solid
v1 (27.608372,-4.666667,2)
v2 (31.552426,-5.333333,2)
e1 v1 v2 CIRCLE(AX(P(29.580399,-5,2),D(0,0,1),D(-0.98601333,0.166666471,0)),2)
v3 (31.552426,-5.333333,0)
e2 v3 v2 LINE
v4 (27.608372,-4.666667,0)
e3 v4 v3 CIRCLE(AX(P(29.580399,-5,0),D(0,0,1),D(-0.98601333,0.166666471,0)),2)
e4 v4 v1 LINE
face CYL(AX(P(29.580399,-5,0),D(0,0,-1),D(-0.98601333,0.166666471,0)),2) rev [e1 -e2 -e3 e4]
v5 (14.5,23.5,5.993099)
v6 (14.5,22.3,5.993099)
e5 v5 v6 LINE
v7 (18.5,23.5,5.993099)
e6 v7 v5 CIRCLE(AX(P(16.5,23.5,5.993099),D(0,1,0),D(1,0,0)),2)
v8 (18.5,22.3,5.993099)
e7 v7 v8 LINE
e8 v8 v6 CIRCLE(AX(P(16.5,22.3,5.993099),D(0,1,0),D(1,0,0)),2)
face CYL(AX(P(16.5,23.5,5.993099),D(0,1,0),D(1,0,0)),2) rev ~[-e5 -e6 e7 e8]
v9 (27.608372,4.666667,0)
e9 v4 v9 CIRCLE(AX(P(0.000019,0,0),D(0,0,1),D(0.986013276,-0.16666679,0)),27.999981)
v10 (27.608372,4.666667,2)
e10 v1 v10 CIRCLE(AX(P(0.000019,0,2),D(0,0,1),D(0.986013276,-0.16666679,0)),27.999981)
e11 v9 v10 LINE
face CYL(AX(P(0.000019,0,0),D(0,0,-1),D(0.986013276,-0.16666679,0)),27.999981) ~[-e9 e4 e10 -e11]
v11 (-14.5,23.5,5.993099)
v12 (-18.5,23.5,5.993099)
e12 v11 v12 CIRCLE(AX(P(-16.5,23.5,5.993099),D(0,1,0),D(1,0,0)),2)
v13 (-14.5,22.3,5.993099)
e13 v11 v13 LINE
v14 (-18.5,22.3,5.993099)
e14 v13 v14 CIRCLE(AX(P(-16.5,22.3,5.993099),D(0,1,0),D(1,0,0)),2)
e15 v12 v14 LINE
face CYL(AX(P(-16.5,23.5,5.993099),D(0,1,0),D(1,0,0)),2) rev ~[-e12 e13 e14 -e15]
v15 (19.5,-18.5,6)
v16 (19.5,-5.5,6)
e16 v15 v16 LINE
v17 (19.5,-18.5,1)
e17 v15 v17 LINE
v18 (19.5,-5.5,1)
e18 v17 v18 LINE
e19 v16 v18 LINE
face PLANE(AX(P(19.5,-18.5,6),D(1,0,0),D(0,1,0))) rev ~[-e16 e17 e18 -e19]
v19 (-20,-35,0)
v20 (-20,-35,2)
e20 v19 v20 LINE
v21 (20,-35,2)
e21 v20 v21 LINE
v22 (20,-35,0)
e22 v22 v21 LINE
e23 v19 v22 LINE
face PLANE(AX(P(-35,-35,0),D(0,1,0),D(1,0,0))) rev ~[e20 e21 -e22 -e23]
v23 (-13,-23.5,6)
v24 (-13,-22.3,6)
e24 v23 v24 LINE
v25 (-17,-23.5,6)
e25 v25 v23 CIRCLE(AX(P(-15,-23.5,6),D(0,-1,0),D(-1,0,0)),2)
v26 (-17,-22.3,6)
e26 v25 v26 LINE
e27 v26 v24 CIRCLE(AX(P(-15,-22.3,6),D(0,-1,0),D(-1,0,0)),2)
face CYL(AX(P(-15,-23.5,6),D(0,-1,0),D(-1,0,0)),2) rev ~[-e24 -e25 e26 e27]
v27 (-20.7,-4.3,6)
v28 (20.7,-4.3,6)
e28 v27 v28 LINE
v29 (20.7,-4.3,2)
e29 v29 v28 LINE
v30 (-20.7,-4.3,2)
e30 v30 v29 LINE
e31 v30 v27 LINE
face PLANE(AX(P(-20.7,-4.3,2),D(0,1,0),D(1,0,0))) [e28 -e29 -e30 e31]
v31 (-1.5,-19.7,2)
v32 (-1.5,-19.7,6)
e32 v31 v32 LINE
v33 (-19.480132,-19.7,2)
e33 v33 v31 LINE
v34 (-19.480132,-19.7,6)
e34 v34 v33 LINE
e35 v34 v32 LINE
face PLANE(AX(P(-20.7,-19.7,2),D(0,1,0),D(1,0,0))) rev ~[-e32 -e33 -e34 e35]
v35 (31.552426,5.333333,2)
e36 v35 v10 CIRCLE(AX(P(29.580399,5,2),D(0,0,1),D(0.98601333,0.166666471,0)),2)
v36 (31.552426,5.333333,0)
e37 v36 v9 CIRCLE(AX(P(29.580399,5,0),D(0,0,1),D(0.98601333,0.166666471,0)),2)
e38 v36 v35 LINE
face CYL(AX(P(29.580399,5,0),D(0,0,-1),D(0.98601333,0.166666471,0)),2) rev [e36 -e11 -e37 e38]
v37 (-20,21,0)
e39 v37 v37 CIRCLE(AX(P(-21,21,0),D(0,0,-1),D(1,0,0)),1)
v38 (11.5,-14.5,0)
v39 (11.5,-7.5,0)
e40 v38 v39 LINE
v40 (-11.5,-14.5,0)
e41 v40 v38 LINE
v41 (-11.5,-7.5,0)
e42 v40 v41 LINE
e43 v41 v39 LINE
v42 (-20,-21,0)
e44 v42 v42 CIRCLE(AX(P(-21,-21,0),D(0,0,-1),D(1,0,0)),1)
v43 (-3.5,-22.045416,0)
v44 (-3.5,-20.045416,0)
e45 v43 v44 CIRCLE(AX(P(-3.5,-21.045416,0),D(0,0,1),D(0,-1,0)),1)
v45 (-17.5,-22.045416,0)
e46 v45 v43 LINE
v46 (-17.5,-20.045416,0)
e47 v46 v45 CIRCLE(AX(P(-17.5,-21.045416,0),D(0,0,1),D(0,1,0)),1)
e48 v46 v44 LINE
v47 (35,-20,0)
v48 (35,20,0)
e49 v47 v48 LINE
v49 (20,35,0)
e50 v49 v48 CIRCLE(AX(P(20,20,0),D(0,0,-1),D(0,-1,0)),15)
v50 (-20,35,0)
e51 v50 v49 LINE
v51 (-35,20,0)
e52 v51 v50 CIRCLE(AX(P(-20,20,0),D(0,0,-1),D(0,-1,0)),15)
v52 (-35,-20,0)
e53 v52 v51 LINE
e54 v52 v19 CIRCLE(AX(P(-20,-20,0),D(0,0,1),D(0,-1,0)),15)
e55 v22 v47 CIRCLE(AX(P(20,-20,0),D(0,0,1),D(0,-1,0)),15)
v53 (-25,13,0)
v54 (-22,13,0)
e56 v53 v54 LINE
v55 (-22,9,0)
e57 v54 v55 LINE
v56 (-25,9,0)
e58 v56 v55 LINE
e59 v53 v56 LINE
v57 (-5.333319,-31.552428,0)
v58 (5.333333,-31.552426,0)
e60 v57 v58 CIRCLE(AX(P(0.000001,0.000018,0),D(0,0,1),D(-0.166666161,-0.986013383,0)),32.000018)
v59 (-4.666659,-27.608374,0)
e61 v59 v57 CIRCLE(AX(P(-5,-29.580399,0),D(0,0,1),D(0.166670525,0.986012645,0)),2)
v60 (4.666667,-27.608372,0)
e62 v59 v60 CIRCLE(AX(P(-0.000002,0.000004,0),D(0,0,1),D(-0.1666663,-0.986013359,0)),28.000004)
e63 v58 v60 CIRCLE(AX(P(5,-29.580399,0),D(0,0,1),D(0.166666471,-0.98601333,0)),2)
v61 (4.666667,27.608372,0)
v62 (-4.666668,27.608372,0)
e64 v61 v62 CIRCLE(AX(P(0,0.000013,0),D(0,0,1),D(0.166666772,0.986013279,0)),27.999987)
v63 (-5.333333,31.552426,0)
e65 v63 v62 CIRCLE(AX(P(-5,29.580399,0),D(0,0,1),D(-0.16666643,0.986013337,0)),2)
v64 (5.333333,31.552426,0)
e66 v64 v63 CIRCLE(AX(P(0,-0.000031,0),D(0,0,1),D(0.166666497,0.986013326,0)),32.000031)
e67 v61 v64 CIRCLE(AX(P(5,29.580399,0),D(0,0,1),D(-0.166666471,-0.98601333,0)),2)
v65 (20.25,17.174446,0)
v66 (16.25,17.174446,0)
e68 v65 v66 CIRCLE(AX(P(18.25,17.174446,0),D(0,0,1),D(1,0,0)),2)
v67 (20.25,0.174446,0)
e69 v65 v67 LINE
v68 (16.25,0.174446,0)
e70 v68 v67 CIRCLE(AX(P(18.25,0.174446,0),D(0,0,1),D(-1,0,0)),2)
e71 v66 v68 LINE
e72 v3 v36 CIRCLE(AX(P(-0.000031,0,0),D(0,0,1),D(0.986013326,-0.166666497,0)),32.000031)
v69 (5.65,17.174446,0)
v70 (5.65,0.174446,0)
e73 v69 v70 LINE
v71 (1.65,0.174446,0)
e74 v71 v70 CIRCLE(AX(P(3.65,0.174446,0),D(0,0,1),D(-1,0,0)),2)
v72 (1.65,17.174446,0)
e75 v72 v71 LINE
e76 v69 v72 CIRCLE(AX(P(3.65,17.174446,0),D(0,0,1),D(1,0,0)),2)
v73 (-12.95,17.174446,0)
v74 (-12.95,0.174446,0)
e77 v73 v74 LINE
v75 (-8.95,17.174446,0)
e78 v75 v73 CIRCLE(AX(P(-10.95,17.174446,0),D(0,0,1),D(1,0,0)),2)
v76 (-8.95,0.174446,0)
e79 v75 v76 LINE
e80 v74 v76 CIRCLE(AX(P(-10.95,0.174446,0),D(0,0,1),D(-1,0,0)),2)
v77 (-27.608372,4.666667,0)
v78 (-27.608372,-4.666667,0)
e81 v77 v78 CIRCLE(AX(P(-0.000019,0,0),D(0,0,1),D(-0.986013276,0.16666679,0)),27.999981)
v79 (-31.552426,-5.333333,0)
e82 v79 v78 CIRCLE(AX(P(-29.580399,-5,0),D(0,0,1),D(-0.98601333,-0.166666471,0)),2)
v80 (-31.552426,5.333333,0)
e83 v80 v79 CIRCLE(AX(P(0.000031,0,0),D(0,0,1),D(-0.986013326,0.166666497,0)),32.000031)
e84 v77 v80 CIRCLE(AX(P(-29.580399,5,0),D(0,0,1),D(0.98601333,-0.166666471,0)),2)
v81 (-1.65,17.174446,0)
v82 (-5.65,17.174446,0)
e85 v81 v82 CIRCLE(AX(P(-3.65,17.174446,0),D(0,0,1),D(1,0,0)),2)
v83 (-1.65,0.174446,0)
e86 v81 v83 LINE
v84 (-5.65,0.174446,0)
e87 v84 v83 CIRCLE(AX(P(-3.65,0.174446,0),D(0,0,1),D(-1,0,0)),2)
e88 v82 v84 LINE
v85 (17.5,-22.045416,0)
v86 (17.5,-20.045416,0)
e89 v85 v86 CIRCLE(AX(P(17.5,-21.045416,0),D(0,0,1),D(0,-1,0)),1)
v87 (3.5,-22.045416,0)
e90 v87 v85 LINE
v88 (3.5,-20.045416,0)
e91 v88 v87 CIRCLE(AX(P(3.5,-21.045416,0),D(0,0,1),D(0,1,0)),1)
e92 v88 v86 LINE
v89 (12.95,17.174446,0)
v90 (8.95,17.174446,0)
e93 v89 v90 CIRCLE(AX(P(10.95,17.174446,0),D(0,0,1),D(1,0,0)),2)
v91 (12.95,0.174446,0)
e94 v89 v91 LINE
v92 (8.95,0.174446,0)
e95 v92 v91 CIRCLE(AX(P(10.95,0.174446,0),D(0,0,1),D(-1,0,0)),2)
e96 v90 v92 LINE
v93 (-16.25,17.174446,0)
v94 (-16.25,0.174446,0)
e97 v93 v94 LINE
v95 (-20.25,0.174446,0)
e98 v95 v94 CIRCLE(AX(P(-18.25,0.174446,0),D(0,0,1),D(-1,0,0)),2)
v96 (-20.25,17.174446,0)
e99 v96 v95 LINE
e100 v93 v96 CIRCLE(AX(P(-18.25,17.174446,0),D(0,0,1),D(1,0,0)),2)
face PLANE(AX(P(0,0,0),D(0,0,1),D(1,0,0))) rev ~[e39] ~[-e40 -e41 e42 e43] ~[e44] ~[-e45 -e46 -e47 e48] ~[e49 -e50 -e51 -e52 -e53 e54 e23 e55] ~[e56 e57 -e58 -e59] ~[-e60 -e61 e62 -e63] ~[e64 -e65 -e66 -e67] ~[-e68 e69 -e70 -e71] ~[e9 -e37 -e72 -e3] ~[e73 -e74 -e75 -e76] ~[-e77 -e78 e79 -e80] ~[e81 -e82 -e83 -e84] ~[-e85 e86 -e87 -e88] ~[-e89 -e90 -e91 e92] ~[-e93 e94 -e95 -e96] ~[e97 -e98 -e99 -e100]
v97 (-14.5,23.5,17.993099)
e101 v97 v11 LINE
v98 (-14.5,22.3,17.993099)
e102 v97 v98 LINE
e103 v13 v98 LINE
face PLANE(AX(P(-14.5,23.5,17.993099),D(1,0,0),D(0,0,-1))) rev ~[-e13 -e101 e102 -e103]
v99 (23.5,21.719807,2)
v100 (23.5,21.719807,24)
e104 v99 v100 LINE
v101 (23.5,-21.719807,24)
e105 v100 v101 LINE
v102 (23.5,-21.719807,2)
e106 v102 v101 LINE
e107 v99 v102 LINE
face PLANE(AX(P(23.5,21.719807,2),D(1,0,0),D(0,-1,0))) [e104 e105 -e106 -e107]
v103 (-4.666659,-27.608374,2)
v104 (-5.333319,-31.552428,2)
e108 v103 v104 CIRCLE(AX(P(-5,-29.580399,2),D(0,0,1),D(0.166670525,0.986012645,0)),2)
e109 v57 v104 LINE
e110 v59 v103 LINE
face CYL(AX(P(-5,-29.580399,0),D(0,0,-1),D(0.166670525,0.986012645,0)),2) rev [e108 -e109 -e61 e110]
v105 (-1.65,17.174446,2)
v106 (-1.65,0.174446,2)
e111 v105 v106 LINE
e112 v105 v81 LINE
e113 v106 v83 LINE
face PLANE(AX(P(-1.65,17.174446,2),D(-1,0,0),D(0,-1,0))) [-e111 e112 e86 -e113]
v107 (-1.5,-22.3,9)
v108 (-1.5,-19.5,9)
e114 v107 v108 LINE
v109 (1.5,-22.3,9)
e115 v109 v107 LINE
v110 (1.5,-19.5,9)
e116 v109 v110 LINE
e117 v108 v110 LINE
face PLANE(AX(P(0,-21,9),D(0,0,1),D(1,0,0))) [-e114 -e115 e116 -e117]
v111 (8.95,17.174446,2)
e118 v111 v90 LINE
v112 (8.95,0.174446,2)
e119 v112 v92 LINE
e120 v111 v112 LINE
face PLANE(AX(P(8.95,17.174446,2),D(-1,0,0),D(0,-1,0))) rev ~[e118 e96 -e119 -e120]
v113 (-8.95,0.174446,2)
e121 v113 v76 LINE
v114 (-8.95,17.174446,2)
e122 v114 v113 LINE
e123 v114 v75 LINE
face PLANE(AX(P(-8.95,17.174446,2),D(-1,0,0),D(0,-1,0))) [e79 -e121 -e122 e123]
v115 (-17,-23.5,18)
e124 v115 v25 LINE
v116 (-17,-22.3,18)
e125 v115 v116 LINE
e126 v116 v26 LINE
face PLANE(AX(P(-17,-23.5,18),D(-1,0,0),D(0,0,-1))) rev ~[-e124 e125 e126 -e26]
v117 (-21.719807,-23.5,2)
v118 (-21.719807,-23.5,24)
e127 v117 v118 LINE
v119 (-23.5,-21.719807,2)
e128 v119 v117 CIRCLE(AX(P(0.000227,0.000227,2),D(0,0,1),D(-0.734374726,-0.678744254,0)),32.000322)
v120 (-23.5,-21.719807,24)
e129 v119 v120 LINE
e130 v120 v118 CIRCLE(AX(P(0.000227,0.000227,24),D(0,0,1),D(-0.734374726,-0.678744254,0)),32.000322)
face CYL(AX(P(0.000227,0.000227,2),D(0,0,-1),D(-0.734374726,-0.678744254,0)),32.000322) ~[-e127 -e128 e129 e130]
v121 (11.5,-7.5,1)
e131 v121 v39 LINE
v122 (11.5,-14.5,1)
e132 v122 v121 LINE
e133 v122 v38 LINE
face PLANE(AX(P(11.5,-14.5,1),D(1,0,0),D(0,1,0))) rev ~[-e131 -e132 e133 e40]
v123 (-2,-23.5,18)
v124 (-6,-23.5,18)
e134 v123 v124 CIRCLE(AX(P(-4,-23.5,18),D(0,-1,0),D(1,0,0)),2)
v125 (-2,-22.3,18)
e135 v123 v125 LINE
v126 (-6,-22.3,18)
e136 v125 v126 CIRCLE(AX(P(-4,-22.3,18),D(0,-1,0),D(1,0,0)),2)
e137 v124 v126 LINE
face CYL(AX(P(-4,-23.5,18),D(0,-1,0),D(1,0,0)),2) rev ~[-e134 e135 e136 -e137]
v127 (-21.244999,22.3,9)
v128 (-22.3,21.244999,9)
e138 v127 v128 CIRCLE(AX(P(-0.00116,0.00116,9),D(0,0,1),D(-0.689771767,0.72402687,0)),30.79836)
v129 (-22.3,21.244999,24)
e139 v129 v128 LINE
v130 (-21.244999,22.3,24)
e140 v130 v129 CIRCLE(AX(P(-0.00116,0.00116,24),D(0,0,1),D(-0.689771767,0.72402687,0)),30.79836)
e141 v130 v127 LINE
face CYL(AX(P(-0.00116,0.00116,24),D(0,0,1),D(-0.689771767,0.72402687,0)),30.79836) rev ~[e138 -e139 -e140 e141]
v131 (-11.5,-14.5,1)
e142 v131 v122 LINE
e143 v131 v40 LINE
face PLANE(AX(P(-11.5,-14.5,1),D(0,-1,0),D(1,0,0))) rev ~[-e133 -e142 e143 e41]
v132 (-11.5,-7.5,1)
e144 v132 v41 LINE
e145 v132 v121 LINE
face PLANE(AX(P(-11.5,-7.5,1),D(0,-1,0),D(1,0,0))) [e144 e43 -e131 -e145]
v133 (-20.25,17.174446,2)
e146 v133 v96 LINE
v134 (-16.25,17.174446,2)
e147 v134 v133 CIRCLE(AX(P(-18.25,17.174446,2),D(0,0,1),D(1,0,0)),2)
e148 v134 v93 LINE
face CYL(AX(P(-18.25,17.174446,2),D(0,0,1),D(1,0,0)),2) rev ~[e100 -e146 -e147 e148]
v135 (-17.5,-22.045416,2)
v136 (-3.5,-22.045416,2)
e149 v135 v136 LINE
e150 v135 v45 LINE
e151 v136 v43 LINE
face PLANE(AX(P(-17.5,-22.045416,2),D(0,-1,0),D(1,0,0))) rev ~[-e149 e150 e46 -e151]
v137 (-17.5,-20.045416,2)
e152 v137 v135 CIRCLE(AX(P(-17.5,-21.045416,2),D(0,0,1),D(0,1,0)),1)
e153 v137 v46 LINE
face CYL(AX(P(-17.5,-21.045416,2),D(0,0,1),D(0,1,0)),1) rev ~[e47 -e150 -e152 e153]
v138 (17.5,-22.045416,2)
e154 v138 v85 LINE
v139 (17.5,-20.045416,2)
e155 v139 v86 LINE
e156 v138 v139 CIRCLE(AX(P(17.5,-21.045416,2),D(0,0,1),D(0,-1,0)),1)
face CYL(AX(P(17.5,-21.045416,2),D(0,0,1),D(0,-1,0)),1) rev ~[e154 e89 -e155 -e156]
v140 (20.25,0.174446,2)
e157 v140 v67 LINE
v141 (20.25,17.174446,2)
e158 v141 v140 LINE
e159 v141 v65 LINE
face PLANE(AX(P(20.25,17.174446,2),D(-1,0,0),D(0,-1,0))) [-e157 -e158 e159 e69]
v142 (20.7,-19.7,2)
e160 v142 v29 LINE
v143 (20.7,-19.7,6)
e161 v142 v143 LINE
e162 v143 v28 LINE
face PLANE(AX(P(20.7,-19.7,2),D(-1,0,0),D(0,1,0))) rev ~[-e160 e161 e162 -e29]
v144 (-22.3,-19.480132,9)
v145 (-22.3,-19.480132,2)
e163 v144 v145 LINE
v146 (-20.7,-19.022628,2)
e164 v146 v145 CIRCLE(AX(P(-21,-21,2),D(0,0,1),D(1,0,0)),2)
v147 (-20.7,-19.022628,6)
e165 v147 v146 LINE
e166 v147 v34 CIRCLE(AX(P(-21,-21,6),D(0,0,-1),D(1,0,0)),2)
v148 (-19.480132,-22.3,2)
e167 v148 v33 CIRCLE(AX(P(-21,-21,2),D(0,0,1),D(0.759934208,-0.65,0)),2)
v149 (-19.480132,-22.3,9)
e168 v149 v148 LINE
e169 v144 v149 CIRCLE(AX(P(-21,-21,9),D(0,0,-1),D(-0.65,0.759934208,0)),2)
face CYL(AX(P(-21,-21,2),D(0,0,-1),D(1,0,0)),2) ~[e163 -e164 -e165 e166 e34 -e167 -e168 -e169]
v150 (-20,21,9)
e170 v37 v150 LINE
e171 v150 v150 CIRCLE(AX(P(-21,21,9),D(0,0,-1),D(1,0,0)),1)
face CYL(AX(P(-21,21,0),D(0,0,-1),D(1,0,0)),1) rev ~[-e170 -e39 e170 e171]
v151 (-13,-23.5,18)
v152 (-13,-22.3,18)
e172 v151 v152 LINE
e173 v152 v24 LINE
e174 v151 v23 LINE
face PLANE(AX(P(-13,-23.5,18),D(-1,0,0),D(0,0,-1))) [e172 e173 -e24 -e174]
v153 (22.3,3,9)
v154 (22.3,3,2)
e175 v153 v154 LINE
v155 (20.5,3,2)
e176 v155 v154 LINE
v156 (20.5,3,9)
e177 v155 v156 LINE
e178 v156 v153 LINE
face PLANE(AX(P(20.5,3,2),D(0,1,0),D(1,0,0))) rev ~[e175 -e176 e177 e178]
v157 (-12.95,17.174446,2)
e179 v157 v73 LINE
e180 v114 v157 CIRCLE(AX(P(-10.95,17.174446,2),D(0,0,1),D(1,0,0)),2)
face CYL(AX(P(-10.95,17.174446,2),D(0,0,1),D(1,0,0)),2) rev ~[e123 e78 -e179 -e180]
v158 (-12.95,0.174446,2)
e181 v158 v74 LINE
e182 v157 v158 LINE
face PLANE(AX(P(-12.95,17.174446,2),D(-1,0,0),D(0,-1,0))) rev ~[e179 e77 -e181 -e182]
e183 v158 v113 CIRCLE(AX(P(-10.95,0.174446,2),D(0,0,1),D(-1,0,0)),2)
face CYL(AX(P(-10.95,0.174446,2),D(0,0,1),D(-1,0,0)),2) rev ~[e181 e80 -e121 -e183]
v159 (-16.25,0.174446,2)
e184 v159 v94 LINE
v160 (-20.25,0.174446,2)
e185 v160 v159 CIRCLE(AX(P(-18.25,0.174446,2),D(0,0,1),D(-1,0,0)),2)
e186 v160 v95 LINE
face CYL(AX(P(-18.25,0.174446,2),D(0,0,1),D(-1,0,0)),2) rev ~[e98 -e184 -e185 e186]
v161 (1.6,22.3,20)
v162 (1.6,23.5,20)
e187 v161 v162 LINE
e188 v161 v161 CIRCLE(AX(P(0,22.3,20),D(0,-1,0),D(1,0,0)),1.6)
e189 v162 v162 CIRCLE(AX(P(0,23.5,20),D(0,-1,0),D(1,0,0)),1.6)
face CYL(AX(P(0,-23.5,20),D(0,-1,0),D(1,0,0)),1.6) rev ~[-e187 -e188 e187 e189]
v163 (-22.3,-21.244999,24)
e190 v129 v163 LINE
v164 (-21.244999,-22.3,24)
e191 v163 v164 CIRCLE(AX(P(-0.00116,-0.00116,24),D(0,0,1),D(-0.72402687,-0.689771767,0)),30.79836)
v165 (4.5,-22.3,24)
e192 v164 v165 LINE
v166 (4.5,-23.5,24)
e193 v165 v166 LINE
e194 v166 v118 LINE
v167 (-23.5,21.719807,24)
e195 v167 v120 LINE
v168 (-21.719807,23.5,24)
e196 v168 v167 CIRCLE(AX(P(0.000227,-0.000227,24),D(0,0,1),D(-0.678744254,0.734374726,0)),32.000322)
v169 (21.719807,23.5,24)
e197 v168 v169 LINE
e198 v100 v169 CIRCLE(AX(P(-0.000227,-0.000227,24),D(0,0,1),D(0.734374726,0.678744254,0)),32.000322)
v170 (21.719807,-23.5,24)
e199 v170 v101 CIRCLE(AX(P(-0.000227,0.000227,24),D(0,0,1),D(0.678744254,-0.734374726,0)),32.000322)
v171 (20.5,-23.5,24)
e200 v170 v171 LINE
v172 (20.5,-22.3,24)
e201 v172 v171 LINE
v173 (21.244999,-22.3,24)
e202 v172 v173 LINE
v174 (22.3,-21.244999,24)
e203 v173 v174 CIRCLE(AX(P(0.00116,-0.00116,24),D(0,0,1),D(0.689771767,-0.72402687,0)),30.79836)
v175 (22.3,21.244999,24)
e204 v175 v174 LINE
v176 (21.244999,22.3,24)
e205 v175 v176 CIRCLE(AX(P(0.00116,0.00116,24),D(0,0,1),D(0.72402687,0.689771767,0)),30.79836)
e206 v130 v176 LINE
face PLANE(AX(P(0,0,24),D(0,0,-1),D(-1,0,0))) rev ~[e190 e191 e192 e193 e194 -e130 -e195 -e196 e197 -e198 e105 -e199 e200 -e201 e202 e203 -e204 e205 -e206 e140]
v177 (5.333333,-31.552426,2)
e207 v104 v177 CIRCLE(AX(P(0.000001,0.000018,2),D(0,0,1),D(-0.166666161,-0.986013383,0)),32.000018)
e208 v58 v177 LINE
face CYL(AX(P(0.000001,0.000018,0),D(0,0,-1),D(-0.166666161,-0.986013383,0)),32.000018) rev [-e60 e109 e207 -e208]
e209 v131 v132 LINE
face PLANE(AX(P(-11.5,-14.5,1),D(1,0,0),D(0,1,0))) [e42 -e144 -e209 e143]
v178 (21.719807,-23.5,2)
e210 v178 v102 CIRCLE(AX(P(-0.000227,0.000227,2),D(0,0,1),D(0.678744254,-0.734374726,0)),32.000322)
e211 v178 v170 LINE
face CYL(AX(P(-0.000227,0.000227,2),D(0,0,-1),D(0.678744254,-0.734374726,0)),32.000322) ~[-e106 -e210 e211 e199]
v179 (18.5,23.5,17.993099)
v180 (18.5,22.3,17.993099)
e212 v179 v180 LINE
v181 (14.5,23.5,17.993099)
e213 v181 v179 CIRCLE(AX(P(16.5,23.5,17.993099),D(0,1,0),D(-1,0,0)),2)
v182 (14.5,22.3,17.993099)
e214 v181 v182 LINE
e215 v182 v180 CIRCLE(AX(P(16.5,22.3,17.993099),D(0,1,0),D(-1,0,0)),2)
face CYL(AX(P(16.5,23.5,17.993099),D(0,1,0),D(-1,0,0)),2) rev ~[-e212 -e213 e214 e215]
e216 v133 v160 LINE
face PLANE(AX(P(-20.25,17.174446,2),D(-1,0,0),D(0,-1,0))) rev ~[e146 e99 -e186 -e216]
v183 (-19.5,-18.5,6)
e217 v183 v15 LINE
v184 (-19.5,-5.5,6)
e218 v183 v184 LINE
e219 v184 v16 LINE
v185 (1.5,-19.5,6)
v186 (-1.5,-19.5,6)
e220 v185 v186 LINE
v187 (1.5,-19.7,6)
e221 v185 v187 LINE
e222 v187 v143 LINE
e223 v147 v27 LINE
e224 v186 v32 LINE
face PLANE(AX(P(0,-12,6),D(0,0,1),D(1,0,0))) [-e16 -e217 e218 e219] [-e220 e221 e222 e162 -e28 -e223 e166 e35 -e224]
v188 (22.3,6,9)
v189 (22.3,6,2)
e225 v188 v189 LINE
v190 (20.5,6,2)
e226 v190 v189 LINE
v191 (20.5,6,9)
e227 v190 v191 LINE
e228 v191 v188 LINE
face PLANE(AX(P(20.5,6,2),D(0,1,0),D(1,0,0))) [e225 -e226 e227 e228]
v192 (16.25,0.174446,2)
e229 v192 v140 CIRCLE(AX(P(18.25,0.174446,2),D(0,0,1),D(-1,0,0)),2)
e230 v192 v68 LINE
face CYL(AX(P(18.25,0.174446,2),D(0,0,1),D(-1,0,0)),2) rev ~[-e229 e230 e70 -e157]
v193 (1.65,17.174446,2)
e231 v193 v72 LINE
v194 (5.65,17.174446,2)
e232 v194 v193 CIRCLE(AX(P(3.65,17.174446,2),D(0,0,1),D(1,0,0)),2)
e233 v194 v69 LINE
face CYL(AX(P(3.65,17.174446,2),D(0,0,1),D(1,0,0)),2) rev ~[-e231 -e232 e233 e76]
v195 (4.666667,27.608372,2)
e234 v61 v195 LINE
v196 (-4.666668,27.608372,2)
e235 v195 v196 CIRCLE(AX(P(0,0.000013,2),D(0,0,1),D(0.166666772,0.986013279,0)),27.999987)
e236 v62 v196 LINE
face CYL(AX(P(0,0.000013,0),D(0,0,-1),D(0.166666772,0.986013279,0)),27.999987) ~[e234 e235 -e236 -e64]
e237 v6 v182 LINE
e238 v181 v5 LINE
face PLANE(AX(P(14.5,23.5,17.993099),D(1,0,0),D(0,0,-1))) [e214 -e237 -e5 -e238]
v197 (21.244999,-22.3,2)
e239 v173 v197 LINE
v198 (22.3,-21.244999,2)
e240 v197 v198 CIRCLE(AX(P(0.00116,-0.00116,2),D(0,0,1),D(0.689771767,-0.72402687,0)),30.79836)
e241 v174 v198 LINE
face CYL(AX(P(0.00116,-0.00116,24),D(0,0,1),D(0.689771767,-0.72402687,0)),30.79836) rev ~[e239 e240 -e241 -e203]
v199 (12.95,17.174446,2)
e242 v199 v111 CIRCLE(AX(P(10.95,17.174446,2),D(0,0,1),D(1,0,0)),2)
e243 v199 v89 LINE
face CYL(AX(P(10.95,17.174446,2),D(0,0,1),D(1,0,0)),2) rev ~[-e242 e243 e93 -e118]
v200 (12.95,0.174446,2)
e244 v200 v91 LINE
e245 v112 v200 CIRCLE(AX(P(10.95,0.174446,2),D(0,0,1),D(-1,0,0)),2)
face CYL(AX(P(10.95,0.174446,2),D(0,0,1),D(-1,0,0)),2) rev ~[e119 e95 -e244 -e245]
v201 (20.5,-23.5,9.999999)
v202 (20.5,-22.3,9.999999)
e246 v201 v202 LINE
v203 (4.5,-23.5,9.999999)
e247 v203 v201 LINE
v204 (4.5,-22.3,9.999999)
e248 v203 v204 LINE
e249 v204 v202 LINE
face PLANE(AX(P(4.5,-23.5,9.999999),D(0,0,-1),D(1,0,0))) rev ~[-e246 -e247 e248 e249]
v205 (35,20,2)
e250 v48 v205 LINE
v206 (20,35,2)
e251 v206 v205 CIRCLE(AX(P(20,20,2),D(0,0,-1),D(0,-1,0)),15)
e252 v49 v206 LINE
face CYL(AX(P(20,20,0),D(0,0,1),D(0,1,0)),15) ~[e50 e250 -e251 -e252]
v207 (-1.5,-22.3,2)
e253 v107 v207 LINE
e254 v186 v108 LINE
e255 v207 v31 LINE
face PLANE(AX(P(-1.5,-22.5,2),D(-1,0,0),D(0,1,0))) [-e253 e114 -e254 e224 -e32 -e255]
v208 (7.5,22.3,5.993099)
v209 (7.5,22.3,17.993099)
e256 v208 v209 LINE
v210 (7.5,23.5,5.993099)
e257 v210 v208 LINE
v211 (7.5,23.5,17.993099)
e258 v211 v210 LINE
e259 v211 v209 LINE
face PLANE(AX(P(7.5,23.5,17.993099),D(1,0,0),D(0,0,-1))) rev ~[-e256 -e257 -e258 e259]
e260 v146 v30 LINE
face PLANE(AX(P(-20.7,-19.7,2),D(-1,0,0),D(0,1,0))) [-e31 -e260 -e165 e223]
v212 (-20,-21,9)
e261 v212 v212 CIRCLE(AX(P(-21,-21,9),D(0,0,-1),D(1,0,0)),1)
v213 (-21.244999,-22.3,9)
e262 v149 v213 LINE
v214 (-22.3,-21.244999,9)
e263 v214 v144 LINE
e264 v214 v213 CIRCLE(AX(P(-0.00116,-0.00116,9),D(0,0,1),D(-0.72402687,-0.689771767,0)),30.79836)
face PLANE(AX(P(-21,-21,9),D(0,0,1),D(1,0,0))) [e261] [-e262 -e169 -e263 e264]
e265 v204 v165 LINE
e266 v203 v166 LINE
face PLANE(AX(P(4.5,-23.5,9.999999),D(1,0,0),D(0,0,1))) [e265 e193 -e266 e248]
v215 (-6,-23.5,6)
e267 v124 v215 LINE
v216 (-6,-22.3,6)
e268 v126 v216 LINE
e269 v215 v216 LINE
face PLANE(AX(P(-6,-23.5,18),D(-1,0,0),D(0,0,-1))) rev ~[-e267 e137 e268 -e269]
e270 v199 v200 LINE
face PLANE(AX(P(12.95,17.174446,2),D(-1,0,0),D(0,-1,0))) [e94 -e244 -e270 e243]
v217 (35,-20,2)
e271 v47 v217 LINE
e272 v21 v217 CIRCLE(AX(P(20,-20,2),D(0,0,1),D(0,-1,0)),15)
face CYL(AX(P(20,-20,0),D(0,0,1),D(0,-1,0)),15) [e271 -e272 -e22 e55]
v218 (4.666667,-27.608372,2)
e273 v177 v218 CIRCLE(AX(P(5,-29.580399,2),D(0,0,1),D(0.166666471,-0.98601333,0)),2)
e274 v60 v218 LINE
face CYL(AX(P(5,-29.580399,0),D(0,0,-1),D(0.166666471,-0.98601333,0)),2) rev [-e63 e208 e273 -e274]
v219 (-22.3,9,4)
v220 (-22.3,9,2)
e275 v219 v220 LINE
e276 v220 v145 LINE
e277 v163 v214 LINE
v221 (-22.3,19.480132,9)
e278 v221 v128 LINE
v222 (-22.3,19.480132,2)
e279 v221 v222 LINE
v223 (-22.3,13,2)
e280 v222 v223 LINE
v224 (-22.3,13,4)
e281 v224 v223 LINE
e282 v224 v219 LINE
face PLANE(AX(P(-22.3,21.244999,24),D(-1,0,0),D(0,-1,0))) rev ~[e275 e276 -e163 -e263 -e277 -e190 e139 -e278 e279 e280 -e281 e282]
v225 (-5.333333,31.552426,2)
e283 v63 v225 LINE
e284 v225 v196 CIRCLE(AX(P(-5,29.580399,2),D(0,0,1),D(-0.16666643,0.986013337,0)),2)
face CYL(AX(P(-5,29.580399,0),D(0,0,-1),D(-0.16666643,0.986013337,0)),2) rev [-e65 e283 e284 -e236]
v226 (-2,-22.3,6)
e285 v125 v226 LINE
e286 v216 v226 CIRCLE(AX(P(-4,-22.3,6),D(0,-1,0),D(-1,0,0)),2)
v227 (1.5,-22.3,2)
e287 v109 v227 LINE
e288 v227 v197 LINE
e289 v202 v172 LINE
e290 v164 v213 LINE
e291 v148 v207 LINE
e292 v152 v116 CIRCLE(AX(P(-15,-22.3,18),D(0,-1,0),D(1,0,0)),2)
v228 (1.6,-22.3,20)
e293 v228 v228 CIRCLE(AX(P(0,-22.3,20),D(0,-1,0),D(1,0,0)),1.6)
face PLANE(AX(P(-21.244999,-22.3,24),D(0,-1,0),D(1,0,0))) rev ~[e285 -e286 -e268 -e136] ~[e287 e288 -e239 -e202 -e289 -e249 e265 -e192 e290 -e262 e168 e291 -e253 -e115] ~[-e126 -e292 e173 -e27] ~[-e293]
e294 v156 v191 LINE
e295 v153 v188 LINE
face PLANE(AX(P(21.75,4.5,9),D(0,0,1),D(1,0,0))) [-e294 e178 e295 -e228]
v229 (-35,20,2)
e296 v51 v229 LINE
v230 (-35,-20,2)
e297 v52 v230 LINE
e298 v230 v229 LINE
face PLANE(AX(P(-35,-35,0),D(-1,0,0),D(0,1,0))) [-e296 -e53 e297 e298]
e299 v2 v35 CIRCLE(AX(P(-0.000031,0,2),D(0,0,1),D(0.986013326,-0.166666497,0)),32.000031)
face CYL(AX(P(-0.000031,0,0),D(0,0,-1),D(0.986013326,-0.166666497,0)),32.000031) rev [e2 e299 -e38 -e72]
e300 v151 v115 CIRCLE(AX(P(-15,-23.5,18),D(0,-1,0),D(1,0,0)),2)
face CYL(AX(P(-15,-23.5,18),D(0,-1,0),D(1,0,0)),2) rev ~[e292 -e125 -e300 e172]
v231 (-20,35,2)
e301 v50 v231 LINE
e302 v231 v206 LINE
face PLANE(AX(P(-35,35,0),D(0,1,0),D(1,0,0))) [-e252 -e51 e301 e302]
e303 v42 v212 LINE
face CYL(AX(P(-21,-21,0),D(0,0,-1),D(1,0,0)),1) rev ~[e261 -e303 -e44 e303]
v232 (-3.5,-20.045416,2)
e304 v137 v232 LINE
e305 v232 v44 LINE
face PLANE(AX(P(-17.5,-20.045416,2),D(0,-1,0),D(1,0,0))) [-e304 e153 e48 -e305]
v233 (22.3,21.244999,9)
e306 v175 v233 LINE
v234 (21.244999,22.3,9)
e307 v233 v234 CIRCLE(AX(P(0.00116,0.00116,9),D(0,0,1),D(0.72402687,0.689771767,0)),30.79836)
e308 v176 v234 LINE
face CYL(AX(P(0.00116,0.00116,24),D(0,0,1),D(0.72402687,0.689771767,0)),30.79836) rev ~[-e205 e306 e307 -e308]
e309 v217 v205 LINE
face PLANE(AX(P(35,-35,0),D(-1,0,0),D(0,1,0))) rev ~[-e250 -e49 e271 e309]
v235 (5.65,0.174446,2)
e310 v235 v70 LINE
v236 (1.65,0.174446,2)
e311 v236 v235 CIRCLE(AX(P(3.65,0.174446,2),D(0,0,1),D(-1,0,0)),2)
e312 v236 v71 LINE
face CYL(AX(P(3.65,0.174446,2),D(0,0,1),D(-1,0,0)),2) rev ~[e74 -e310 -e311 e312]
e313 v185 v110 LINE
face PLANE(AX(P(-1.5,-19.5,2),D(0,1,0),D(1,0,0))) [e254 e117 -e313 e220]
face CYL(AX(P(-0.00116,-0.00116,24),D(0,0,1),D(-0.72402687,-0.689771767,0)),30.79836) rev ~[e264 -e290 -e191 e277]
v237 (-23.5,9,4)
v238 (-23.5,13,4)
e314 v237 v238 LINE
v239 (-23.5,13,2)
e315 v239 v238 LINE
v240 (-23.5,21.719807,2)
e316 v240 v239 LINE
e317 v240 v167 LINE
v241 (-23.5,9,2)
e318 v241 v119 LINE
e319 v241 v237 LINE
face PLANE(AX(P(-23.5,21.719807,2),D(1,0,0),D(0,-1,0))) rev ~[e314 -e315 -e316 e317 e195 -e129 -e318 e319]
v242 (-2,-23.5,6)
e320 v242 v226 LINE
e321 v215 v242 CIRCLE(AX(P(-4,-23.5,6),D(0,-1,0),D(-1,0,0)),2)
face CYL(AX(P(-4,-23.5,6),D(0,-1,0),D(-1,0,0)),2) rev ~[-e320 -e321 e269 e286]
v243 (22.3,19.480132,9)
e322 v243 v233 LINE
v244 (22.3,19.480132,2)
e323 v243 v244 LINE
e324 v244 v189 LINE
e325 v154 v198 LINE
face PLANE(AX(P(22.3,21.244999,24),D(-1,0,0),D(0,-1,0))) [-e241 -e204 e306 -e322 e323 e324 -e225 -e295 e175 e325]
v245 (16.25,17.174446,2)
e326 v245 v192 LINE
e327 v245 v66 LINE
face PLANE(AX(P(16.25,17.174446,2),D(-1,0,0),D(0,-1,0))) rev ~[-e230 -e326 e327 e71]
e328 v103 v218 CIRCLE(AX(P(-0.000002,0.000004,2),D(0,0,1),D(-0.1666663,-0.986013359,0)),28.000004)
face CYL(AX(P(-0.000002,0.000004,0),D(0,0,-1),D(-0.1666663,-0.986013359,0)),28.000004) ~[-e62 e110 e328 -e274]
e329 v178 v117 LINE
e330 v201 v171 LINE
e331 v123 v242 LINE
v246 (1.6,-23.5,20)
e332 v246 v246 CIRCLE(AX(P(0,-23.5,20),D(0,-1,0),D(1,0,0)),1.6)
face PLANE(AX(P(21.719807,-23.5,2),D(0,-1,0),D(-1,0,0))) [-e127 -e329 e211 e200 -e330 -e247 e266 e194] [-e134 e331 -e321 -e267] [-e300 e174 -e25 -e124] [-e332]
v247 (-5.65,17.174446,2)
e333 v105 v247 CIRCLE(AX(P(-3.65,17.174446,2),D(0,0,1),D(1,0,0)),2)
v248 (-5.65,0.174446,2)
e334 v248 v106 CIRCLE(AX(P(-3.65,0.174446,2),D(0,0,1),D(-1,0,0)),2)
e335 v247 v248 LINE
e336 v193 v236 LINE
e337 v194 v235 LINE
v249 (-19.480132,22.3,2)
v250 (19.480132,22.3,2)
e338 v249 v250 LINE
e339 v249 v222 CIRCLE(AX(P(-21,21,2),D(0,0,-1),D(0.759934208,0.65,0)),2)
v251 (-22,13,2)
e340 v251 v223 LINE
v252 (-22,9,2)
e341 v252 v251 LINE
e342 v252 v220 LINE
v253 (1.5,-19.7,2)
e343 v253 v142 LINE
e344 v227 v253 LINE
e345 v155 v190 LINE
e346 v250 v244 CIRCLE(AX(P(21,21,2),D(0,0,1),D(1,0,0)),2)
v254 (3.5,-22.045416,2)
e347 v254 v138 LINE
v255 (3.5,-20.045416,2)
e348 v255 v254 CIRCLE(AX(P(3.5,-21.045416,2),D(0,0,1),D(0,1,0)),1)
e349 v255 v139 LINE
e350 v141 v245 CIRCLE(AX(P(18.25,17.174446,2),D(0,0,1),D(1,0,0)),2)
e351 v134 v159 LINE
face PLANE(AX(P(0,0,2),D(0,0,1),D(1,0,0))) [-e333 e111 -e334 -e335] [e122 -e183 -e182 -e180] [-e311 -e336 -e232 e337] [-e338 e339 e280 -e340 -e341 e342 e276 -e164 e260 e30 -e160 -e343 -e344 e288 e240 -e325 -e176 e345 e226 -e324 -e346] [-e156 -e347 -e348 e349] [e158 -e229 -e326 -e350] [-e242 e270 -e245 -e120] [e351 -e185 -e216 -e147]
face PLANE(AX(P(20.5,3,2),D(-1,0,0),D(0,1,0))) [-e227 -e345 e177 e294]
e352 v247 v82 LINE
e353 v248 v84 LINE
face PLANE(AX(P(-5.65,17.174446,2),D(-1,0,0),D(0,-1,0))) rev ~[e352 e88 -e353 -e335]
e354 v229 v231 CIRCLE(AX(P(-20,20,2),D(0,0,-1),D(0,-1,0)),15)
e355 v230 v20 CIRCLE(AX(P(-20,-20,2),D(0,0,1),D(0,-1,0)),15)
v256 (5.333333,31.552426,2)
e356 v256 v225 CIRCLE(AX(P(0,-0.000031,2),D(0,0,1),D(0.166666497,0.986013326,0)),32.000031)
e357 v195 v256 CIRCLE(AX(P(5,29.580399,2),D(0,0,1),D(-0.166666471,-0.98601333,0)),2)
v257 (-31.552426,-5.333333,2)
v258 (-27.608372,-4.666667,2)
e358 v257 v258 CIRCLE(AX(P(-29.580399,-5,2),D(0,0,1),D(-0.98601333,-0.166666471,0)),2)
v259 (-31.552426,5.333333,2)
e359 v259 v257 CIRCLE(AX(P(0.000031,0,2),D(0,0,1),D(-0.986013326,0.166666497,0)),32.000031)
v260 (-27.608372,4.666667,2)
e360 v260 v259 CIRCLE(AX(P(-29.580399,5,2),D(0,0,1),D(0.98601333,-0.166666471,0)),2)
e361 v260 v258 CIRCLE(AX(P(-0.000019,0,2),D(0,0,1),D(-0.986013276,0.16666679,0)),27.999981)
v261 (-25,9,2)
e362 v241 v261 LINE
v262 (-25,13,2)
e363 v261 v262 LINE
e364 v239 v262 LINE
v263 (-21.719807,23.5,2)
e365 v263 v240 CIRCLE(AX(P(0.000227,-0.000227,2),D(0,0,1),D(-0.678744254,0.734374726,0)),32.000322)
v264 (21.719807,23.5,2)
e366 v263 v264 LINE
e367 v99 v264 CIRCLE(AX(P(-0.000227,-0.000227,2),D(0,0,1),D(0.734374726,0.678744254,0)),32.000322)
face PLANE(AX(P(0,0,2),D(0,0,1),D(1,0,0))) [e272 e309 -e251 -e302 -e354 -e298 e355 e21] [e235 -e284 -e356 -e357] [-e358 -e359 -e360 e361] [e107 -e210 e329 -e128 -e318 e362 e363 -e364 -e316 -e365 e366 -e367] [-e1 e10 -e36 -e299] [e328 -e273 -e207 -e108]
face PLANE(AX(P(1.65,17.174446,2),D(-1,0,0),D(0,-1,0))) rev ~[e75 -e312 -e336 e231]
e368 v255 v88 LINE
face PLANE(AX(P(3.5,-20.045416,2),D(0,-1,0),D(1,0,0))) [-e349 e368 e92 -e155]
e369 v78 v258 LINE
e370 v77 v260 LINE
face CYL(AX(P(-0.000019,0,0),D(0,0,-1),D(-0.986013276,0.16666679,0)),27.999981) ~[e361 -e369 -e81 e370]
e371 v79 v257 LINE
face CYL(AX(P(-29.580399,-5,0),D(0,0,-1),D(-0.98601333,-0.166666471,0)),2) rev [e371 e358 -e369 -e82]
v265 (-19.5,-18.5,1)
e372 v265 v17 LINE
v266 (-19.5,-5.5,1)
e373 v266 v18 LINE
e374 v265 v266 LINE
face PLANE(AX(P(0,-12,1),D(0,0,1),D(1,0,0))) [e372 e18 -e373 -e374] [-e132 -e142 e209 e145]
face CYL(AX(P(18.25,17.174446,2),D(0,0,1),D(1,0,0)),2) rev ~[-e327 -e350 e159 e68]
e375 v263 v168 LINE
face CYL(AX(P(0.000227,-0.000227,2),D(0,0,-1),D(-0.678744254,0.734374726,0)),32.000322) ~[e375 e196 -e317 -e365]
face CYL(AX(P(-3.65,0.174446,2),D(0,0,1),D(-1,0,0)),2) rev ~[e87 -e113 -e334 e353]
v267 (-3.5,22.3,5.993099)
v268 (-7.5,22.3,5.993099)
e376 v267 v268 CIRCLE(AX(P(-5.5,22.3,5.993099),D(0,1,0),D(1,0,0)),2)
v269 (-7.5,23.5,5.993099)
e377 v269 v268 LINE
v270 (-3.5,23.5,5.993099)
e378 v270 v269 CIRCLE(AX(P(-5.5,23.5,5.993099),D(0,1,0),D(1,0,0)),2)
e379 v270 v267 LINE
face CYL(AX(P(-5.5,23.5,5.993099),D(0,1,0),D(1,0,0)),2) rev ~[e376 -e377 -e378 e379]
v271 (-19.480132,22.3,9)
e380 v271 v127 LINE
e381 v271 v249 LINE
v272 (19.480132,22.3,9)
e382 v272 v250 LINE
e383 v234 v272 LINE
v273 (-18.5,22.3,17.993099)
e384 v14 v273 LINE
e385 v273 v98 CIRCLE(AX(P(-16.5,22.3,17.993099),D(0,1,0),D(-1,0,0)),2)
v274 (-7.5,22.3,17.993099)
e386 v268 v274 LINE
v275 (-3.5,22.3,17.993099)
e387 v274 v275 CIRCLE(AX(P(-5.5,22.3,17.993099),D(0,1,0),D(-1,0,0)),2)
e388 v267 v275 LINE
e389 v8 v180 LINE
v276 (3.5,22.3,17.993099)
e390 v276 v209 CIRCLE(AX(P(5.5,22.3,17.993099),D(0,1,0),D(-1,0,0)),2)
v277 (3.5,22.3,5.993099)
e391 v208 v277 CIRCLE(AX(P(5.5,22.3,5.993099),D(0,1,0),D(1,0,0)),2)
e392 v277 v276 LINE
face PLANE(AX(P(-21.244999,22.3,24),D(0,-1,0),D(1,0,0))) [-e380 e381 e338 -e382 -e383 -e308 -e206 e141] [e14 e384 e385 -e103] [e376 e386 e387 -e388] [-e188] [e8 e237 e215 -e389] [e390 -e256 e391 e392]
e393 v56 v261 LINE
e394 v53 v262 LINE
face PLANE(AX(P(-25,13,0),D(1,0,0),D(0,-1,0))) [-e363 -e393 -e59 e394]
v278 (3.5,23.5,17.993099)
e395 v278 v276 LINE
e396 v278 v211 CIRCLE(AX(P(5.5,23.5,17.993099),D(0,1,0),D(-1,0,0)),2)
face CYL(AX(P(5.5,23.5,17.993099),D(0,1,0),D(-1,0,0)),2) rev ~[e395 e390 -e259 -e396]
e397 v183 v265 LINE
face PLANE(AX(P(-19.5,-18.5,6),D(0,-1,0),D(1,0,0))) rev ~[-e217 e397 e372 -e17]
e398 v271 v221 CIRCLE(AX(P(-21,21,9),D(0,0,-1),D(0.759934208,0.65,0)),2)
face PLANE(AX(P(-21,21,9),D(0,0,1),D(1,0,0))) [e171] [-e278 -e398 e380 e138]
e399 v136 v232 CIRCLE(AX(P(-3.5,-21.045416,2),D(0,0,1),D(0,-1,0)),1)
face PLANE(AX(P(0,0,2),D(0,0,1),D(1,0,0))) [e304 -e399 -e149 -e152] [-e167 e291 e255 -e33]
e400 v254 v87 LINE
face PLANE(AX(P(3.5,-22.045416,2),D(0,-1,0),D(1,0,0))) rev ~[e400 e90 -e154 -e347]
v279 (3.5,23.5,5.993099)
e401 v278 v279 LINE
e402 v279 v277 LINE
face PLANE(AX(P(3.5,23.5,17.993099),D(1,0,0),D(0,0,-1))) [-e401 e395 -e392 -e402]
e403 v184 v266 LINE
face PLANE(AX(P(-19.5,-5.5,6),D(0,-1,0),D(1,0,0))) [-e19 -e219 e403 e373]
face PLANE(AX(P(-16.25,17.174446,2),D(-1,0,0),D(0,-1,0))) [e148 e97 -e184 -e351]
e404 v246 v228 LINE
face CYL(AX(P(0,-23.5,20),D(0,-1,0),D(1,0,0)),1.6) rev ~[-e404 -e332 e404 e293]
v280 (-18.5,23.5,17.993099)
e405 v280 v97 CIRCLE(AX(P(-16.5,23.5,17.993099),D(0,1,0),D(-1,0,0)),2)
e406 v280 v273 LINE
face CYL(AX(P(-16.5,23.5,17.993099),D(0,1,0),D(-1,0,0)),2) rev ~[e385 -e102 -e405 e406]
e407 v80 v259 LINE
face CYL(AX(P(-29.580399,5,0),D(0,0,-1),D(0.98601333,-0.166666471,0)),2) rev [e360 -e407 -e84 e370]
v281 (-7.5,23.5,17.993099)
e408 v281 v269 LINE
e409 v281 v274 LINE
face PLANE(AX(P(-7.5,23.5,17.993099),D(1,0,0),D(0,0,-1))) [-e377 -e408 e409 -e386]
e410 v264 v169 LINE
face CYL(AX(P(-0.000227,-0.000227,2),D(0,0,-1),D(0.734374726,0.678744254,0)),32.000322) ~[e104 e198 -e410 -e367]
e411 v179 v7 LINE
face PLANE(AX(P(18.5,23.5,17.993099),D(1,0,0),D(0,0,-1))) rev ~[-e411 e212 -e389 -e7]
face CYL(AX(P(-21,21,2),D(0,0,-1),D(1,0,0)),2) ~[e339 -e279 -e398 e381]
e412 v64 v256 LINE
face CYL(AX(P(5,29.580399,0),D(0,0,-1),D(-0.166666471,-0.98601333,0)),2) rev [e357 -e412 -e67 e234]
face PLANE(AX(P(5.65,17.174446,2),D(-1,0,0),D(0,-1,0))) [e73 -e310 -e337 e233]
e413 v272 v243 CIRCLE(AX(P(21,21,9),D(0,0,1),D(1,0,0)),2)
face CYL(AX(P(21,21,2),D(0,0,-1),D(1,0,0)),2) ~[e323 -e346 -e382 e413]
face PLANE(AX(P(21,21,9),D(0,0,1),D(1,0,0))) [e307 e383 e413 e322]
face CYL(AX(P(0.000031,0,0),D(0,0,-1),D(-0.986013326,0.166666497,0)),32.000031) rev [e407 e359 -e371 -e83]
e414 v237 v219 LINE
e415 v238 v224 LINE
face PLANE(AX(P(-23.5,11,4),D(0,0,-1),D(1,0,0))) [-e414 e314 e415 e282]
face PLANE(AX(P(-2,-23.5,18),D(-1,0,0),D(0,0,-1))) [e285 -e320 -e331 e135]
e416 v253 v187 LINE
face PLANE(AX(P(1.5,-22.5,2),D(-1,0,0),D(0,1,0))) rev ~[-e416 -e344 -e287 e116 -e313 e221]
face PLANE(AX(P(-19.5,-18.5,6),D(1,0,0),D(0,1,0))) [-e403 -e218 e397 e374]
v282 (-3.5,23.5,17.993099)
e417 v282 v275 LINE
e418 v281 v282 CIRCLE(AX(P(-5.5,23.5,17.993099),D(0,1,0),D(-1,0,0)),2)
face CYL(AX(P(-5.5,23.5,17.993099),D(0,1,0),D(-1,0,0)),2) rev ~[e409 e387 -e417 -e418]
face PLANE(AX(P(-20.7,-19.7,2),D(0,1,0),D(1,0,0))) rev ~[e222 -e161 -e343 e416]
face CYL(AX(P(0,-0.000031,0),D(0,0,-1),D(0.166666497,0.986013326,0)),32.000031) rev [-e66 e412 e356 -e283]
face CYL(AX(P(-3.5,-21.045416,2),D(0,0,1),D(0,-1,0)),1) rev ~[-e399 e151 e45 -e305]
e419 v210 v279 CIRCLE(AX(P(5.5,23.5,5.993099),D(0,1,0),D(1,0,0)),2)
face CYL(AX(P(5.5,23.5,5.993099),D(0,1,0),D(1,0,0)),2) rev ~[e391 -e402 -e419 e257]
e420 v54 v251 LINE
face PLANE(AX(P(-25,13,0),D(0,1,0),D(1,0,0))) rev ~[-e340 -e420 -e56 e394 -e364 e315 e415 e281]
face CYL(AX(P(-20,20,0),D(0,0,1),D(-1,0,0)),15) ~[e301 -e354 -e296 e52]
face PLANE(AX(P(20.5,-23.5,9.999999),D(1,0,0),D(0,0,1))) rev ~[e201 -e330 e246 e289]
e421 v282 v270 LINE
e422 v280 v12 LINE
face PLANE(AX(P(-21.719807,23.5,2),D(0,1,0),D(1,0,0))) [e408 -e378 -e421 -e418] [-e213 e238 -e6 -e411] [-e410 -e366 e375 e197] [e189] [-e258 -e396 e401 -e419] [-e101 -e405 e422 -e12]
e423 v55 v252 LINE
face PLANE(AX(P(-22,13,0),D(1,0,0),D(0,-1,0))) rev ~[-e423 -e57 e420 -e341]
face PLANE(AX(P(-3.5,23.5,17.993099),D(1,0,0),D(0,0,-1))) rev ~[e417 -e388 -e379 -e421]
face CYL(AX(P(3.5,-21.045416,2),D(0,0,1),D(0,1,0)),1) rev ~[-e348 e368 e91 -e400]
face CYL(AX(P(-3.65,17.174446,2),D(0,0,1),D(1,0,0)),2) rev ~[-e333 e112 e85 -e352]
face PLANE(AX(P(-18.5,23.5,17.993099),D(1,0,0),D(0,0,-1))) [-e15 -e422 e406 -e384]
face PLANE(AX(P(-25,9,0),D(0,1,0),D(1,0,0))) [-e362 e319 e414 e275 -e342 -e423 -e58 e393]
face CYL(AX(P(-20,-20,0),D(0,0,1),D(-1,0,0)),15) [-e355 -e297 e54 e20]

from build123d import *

# Parameters (mm, degrees)
SKETCH_W        = 70
SKETCH_H        = 70
PAD_DEPTH       = 2
PAD001_DEPTH    = 22
POCKET_DEPTH    = 22
SKETCH003_W     = 16
SKETCH003_H     = 23.864653
POCKET001_DEPTH = 18
SKETCH005_W     = 41.4
SKETCH005_H     = 15.4
PAD003_DEPTH    = 4
SKETCH006_W     = 39
SKETCH006_H     = 13
POCKET002_DEPTH = 5
SKETCH007_W     = 23
SKETCH007_H     = 7
POCKET003_DEPTH = 1.001
POCKET004_DEPTH = 5
SKETCH009_R     = 1.6
POCKET005_DEPTH = 58.501
SKETCH010_R     = 2
SKETCH010_W     = 2.5
SKETCH010_H     = 3
SKETCH010_W_2   = 3
PAD004_DEPTH    = 7
POCKET006_DEPTH = 5
POCKET007_DEPTH = 2
FILLET_R        = 15
SKETCH014_W     = 3
SKETCH014_H     = 4
POCKET009_DEPTH = 4
SKETCH015_R     = 1
POCKET010_DEPTH = 24.001


with BuildPart() as part:
    # Sketch → Pad (new body)
    with BuildSketch(Plane.XY):
        Rectangle(SKETCH_W, SKETCH_H)
        with BuildLine():
            ThreePointArc((27.608372, -4.666667), (28, 0), (27.608372, 4.666667))
            ThreePointArc((31.552426, 5.333333), (29.247066, 6.972027), (27.608372, 4.666667))
            ThreePointArc((31.552426, -5.333333), (32, 0), (31.552426, 5.333333))
            ThreePointArc((27.608372, -4.666667), (29.247066, -6.972027), (31.552426, -5.333333))
        make_face(mode=Mode.SUBTRACT)
        with BuildLine():
            ThreePointArc((-27.608372, 4.666667), (-28, 0), (-27.608372, -4.666667))
            ThreePointArc((-31.552426, -5.333333), (-29.247066, -6.972027), (-27.608372, -4.666667))
            ThreePointArc((-31.552426, 5.333333), (-32, 0), (-31.552426, -5.333333))
            ThreePointArc((-27.608372, 4.666667), (-29.247066, 6.972027), (-31.552426, 5.333333))
        make_face(mode=Mode.SUBTRACT)
        with BuildLine():
            ThreePointArc((4.666667, 27.608372), (-1e-06, 28), (-4.666668, 27.608372))
            ThreePointArc((-5.333333, 31.552426), (-6.972027, 29.247066), (-4.666668, 27.608372))
            ThreePointArc((5.333333, 31.552426), (0, 32), (-5.333333, 31.552426))
            ThreePointArc((4.666667, 27.608372), (6.972027, 29.247066), (5.333333, 31.552426))
        make_face(mode=Mode.SUBTRACT)
        with BuildLine():
            ThreePointArc((-4.666659, -27.608374), (4e-06, -28), (4.666667, -27.608372))
            ThreePointArc((5.333333, -31.552426), (6.972027, -29.247066), (4.666667, -27.608372))
            ThreePointArc((-5.333319, -31.552428), (7e-06, -32), (5.333333, -31.552426))
            ThreePointArc((-4.666659, -27.608374), (-6.972027, -29.247069), (-5.333319, -31.552428))
        make_face(mode=Mode.SUBTRACT)
    extrude(amount=PAD_DEPTH)

    # Sketch001 (on Face22 of Pad) → Pad001 (join)
    with BuildSketch(Plane.XY.offset(2)):
        with BuildLine():
            Line((21.719807, -23.5), (-21.719807, -23.5))
            ThreePointArc((-23.5, -21.719807), (-22.627417, -22.627417), (-21.719807, -23.5))
            Line((-23.5, 21.719807), (-23.5, -21.719807))
            ThreePointArc((-21.719807, 23.5), (-22.627417, 22.627417), (-23.5, 21.719807))
            Line((-21.719807, 23.5), (21.719807, 23.5))
            ThreePointArc((23.5, 21.719807), (22.627417, 22.627417), (21.719807, 23.5))
            Line((23.5, 21.719807), (23.5, -21.719807))
            ThreePointArc((21.719807, -23.5), (22.627417, -22.627417), (23.5, -21.719807))
        make_face()
    extrude(amount=PAD001_DEPTH)

    # Sketch002 (on Face31 of Pad001) → Pocket (cut)
    with BuildSketch(Plane.XY.offset(24)):
        with BuildLine():
            Line((-22.3, 21.244999), (-22.3, -21.244999))
            ThreePointArc((-22.3, -21.244999), (-21.778889, -21.778889), (-21.244999, -22.3))
            Line((-21.244999, -22.3), (21.244999, -22.3))
            ThreePointArc((21.244999, -22.3), (21.778889, -21.778889), (22.3, -21.244999))
            Line((22.3, 21.244999), (22.3, -21.244999))
            ThreePointArc((22.3, 21.244999), (21.778889, 21.778889), (21.244999, 22.3))
            Line((-21.244999, 22.3), (21.244999, 22.3))
            ThreePointArc((-21.244999, 22.3), (-21.778889, 21.778889), (-22.3, 21.244999))
        make_face()
    extrude(amount=-POCKET_DEPTH, mode=Mode.SUBTRACT)

    # Sketch003 (on Face23 of Pocket) → Pocket001 (cut)
    with BuildSketch(Plane.XZ.offset(23.5)):
        with Locations((12.5, 21.932326)):
            Rectangle(SKETCH003_W, SKETCH003_H)
    extrude(amount=-POCKET001_DEPTH, mode=Mode.SUBTRACT)

    # Sketch005 (on Face43 of Pocket001) → Pad003 (join)
    with BuildSketch(Plane.XY.offset(2)):
        with Locations((0, -12)):
            Rectangle(SKETCH005_W, SKETCH005_H)
    extrude(amount=PAD003_DEPTH)

    # Sketch006 (on Face48 of Pad003) → Pocket002 (cut)
    with BuildSketch(Plane.XY.offset(6)):
        with Locations((0, -12)):
            Rectangle(SKETCH006_W, SKETCH006_H)
    extrude(amount=-POCKET002_DEPTH, mode=Mode.SUBTRACT)

    # Sketch007 (on Face53 of Pocket002) → Pocket003 (cut, through all)
    with BuildSketch(Plane.XY.offset(1)):
        with Locations((0, -11)):
            Rectangle(SKETCH007_W, SKETCH007_H)
    extrude(amount=-POCKET003_DEPTH, mode=Mode.SUBTRACT)

    # Sketch008 (on Face53 of Pocket003) → Pocket004 (cut)
    with BuildSketch(Plane.XY.offset(2)):
        with BuildLine():
            Line((-20.25, 17.174446), (-20.25, 0.174446))
            ThreePointArc((-20.25, 0.174446), (-18.25, -1.825554), (-16.25, 0.174446))
            Line((-16.25, 17.174446), (-16.25, 0.174446))
            ThreePointArc((-16.25, 17.174446), (-18.25, 19.174446), (-20.25, 17.174446))
        make_face()
        with BuildLine():
            Line((-12.95, 17.174446), (-12.95, 0.174446))
            ThreePointArc((-12.95, 0.174446), (-10.95, -1.825554), (-8.95, 0.174446))
            Line((-8.95, 17.174446), (-8.95, 0.174446))
            ThreePointArc((-8.95, 17.174446), (-10.95, 19.174446), (-12.95, 17.174446))
        make_face()
        with BuildLine():
            Line((-5.65, 17.174446), (-5.65, 0.174446))
            ThreePointArc((-5.65, 0.174446), (-3.65, -1.825554), (-1.65, 0.174446))
            Line((-1.65, 17.174446), (-1.65, 0.174446))
            ThreePointArc((-1.65, 17.174446), (-3.65, 19.174446), (-5.65, 17.174446))
        make_face()
        with BuildLine():
            Line((1.65, 17.174446), (1.65, 0.174446))
            ThreePointArc((1.65, 0.174446), (3.65, -1.825554), (5.65, 0.174446))
            Line((5.65, 17.174446), (5.65, 0.174446))
            ThreePointArc((5.65, 17.174446), (3.65, 19.174446), (1.65, 17.174446))
        make_face()
        with BuildLine():
            Line((8.95, 17.174446), (8.95, 0.174446))
            ThreePointArc((8.95, 0.174446), (10.95, -1.825554), (12.95, 0.174446))
            Line((12.95, 17.174446), (12.95, 0.174446))
            ThreePointArc((12.95, 17.174446), (10.95, 19.174446), (8.95, 17.174446))
        make_face()
        with BuildLine():
            Line((16.25, 17.174446), (16.25, 0.174446))
            ThreePointArc((16.25, 0.174446), (18.25, -1.825554), (20.25, 0.174446))
            Line((20.25, 17.174446), (20.25, 0.174446))
            ThreePointArc((20.25, 17.174446), (18.25, 19.174446), (16.25, 17.174446))
        make_face()
        with BuildLine():
            Line((3.5, -20.045416), (17.5, -20.045416))
            ThreePointArc((17.5, -22.045416), (18.5, -21.045416), (17.5, -20.045416))
            Line((3.5, -22.045416), (17.5, -22.045416))
            ThreePointArc((3.5, -20.045416), (2.5, -21.045416), (3.5, -22.045416))
        make_face()
        with BuildLine():
            Line((-17.5, -20.045416), (-3.5, -20.045416))
            ThreePointArc((-3.5, -22.045416), (-2.5, -21.045416), (-3.5, -20.045416))
            Line((-17.5, -22.045416), (-3.5, -22.045416))
            ThreePointArc((-17.5, -20.045416), (-18.5, -21.045416), (-17.5, -22.045416))
        make_face()
    extrude(amount=-POCKET004_DEPTH, mode=Mode.SUBTRACT)

    # Sketch009 (on Face59 of Pocket004) → Pocket005 (cut, through all)
    with BuildSketch(Plane.XZ.offset(23.5)):
        with Locations((0, 20)):
            Circle(SKETCH009_R)
    extrude(amount=-POCKET005_DEPTH, mode=Mode.SUBTRACT)

    # Sketch010 (on Face67 of Pocket005) → Pad004 (join)
    with BuildSketch(Plane.XY.offset(2)):
        with Locations((21, 21)):
            Circle(SKETCH010_R)
        with Locations((-21, 21)):
            Circle(SKETCH010_R)
        with Locations((-21, -21)):
            Circle(SKETCH010_R)
        with Locations((21.75, 4.5)):
            Rectangle(SKETCH010_W, SKETCH010_H)
        with Locations((0, -21)):
            Rectangle(SKETCH010_W_2, SKETCH010_H)
    extrude(amount=PAD004_DEPTH)

    # Sketch011 (on Face63 of Pad004) → Pocket006 (cut)
    with BuildSketch(Plane(origin=(0, 23.5, 0), x_dir=(-1, 0, 0), z_dir=(0, 1, 0))):
        with BuildLine():
            Line((-18.5, 17.993099), (-18.5, 5.993099))
            ThreePointArc((-18.5, 5.993099), (-16.5, 3.993099), (-14.5, 5.993099))
            Line((-14.5, 17.993099), (-14.5, 5.993099))
            ThreePointArc((-14.5, 17.993099), (-16.5, 19.993099), (-18.5, 17.993099))
        make_face()
        with BuildLine():
            Line((-7.5, 17.993099), (-7.5, 5.993099))
            ThreePointArc((-7.5, 5.993099), (-5.5, 3.993099), (-3.5, 5.993099))
            Line((-3.5, 17.993099), (-3.5, 5.993099))
            ThreePointArc((-3.5, 17.993099), (-5.5, 19.993099), (-7.5, 17.993099))
        make_face()
        with BuildLine():
            Line((3.5, 17.993099), (3.5, 5.993099))
            ThreePointArc((3.5, 5.993099), (5.5, 3.993099), (7.5, 5.993099))
            Line((7.5, 17.993099), (7.5, 5.993099))
            ThreePointArc((7.5, 17.993099), (5.5, 19.993099), (3.5, 17.993099))
        make_face()
        with BuildLine():
            Line((14.5, 17.993099), (14.5, 5.993099))
            ThreePointArc((14.5, 5.993099), (16.5, 3.993099), (18.5, 5.993099))
            Line((18.5, 17.993099), (18.5, 5.993099))
            ThreePointArc((18.5, 17.993099), (16.5, 19.993099), (14.5, 17.993099))
        make_face()
    extrude(amount=-POCKET006_DEPTH, mode=Mode.SUBTRACT)

    # Sketch012 (on Face59 of Pocket006) → Pocket007 (cut)
    with BuildSketch(Plane.XZ.offset(23.5)):
        with BuildLine():
            Line((-17, 18), (-17, 6))
            ThreePointArc((-17, 6), (-15, 4), (-13, 6))
            Line((-13, 18), (-13, 6))
            ThreePointArc((-13, 18), (-15, 20), (-17, 18))
        make_face()
        with BuildLine():
            Line((-6, 18), (-6, 6))
            ThreePointArc((-6, 6), (-4, 4), (-2, 6))
            Line((-2, 18), (-2, 6))
            ThreePointArc((-2, 18), (-4, 20), (-6, 18))
        make_face()
    extrude(amount=-POCKET007_DEPTH, mode=Mode.SUBTRACT)

    # Fillet
    fillet_edges = [part.edges().sort_by_distance(p)[0] for p in [
        (-35, -35, 1),
        (-35, 35, 1),
        (35, -35, 1),
        (35, 35, 1),
    ]]
    fillet(fillet_edges, radius=FILLET_R)

    # Sketch014 (on Face2 of Fillet) → Pocket009 (cut)
    with BuildSketch(Plane(origin=(0, 0, 0), x_dir=(1, 0, 0), z_dir=(0, 0, -1))):
        with Locations((-23.5, -11)):
            Rectangle(SKETCH014_W, SKETCH014_H)
    extrude(amount=-POCKET009_DEPTH, mode=Mode.SUBTRACT)

    # Sketch015 (on Face2 of Pocket009) → Pocket010 (cut, through all)
    with BuildSketch(Plane(origin=(0, 0, 0), x_dir=(1, 0, 0), z_dir=(0, 0, -1))):
        with Locations((-21, 21)):
            Circle(SKETCH015_R)
        with Locations((-21, -21)):
            Circle(SKETCH015_R)
    extrude(amount=-POCKET010_DEPTH, mode=Mode.SUBTRACT)


solid = part.part
